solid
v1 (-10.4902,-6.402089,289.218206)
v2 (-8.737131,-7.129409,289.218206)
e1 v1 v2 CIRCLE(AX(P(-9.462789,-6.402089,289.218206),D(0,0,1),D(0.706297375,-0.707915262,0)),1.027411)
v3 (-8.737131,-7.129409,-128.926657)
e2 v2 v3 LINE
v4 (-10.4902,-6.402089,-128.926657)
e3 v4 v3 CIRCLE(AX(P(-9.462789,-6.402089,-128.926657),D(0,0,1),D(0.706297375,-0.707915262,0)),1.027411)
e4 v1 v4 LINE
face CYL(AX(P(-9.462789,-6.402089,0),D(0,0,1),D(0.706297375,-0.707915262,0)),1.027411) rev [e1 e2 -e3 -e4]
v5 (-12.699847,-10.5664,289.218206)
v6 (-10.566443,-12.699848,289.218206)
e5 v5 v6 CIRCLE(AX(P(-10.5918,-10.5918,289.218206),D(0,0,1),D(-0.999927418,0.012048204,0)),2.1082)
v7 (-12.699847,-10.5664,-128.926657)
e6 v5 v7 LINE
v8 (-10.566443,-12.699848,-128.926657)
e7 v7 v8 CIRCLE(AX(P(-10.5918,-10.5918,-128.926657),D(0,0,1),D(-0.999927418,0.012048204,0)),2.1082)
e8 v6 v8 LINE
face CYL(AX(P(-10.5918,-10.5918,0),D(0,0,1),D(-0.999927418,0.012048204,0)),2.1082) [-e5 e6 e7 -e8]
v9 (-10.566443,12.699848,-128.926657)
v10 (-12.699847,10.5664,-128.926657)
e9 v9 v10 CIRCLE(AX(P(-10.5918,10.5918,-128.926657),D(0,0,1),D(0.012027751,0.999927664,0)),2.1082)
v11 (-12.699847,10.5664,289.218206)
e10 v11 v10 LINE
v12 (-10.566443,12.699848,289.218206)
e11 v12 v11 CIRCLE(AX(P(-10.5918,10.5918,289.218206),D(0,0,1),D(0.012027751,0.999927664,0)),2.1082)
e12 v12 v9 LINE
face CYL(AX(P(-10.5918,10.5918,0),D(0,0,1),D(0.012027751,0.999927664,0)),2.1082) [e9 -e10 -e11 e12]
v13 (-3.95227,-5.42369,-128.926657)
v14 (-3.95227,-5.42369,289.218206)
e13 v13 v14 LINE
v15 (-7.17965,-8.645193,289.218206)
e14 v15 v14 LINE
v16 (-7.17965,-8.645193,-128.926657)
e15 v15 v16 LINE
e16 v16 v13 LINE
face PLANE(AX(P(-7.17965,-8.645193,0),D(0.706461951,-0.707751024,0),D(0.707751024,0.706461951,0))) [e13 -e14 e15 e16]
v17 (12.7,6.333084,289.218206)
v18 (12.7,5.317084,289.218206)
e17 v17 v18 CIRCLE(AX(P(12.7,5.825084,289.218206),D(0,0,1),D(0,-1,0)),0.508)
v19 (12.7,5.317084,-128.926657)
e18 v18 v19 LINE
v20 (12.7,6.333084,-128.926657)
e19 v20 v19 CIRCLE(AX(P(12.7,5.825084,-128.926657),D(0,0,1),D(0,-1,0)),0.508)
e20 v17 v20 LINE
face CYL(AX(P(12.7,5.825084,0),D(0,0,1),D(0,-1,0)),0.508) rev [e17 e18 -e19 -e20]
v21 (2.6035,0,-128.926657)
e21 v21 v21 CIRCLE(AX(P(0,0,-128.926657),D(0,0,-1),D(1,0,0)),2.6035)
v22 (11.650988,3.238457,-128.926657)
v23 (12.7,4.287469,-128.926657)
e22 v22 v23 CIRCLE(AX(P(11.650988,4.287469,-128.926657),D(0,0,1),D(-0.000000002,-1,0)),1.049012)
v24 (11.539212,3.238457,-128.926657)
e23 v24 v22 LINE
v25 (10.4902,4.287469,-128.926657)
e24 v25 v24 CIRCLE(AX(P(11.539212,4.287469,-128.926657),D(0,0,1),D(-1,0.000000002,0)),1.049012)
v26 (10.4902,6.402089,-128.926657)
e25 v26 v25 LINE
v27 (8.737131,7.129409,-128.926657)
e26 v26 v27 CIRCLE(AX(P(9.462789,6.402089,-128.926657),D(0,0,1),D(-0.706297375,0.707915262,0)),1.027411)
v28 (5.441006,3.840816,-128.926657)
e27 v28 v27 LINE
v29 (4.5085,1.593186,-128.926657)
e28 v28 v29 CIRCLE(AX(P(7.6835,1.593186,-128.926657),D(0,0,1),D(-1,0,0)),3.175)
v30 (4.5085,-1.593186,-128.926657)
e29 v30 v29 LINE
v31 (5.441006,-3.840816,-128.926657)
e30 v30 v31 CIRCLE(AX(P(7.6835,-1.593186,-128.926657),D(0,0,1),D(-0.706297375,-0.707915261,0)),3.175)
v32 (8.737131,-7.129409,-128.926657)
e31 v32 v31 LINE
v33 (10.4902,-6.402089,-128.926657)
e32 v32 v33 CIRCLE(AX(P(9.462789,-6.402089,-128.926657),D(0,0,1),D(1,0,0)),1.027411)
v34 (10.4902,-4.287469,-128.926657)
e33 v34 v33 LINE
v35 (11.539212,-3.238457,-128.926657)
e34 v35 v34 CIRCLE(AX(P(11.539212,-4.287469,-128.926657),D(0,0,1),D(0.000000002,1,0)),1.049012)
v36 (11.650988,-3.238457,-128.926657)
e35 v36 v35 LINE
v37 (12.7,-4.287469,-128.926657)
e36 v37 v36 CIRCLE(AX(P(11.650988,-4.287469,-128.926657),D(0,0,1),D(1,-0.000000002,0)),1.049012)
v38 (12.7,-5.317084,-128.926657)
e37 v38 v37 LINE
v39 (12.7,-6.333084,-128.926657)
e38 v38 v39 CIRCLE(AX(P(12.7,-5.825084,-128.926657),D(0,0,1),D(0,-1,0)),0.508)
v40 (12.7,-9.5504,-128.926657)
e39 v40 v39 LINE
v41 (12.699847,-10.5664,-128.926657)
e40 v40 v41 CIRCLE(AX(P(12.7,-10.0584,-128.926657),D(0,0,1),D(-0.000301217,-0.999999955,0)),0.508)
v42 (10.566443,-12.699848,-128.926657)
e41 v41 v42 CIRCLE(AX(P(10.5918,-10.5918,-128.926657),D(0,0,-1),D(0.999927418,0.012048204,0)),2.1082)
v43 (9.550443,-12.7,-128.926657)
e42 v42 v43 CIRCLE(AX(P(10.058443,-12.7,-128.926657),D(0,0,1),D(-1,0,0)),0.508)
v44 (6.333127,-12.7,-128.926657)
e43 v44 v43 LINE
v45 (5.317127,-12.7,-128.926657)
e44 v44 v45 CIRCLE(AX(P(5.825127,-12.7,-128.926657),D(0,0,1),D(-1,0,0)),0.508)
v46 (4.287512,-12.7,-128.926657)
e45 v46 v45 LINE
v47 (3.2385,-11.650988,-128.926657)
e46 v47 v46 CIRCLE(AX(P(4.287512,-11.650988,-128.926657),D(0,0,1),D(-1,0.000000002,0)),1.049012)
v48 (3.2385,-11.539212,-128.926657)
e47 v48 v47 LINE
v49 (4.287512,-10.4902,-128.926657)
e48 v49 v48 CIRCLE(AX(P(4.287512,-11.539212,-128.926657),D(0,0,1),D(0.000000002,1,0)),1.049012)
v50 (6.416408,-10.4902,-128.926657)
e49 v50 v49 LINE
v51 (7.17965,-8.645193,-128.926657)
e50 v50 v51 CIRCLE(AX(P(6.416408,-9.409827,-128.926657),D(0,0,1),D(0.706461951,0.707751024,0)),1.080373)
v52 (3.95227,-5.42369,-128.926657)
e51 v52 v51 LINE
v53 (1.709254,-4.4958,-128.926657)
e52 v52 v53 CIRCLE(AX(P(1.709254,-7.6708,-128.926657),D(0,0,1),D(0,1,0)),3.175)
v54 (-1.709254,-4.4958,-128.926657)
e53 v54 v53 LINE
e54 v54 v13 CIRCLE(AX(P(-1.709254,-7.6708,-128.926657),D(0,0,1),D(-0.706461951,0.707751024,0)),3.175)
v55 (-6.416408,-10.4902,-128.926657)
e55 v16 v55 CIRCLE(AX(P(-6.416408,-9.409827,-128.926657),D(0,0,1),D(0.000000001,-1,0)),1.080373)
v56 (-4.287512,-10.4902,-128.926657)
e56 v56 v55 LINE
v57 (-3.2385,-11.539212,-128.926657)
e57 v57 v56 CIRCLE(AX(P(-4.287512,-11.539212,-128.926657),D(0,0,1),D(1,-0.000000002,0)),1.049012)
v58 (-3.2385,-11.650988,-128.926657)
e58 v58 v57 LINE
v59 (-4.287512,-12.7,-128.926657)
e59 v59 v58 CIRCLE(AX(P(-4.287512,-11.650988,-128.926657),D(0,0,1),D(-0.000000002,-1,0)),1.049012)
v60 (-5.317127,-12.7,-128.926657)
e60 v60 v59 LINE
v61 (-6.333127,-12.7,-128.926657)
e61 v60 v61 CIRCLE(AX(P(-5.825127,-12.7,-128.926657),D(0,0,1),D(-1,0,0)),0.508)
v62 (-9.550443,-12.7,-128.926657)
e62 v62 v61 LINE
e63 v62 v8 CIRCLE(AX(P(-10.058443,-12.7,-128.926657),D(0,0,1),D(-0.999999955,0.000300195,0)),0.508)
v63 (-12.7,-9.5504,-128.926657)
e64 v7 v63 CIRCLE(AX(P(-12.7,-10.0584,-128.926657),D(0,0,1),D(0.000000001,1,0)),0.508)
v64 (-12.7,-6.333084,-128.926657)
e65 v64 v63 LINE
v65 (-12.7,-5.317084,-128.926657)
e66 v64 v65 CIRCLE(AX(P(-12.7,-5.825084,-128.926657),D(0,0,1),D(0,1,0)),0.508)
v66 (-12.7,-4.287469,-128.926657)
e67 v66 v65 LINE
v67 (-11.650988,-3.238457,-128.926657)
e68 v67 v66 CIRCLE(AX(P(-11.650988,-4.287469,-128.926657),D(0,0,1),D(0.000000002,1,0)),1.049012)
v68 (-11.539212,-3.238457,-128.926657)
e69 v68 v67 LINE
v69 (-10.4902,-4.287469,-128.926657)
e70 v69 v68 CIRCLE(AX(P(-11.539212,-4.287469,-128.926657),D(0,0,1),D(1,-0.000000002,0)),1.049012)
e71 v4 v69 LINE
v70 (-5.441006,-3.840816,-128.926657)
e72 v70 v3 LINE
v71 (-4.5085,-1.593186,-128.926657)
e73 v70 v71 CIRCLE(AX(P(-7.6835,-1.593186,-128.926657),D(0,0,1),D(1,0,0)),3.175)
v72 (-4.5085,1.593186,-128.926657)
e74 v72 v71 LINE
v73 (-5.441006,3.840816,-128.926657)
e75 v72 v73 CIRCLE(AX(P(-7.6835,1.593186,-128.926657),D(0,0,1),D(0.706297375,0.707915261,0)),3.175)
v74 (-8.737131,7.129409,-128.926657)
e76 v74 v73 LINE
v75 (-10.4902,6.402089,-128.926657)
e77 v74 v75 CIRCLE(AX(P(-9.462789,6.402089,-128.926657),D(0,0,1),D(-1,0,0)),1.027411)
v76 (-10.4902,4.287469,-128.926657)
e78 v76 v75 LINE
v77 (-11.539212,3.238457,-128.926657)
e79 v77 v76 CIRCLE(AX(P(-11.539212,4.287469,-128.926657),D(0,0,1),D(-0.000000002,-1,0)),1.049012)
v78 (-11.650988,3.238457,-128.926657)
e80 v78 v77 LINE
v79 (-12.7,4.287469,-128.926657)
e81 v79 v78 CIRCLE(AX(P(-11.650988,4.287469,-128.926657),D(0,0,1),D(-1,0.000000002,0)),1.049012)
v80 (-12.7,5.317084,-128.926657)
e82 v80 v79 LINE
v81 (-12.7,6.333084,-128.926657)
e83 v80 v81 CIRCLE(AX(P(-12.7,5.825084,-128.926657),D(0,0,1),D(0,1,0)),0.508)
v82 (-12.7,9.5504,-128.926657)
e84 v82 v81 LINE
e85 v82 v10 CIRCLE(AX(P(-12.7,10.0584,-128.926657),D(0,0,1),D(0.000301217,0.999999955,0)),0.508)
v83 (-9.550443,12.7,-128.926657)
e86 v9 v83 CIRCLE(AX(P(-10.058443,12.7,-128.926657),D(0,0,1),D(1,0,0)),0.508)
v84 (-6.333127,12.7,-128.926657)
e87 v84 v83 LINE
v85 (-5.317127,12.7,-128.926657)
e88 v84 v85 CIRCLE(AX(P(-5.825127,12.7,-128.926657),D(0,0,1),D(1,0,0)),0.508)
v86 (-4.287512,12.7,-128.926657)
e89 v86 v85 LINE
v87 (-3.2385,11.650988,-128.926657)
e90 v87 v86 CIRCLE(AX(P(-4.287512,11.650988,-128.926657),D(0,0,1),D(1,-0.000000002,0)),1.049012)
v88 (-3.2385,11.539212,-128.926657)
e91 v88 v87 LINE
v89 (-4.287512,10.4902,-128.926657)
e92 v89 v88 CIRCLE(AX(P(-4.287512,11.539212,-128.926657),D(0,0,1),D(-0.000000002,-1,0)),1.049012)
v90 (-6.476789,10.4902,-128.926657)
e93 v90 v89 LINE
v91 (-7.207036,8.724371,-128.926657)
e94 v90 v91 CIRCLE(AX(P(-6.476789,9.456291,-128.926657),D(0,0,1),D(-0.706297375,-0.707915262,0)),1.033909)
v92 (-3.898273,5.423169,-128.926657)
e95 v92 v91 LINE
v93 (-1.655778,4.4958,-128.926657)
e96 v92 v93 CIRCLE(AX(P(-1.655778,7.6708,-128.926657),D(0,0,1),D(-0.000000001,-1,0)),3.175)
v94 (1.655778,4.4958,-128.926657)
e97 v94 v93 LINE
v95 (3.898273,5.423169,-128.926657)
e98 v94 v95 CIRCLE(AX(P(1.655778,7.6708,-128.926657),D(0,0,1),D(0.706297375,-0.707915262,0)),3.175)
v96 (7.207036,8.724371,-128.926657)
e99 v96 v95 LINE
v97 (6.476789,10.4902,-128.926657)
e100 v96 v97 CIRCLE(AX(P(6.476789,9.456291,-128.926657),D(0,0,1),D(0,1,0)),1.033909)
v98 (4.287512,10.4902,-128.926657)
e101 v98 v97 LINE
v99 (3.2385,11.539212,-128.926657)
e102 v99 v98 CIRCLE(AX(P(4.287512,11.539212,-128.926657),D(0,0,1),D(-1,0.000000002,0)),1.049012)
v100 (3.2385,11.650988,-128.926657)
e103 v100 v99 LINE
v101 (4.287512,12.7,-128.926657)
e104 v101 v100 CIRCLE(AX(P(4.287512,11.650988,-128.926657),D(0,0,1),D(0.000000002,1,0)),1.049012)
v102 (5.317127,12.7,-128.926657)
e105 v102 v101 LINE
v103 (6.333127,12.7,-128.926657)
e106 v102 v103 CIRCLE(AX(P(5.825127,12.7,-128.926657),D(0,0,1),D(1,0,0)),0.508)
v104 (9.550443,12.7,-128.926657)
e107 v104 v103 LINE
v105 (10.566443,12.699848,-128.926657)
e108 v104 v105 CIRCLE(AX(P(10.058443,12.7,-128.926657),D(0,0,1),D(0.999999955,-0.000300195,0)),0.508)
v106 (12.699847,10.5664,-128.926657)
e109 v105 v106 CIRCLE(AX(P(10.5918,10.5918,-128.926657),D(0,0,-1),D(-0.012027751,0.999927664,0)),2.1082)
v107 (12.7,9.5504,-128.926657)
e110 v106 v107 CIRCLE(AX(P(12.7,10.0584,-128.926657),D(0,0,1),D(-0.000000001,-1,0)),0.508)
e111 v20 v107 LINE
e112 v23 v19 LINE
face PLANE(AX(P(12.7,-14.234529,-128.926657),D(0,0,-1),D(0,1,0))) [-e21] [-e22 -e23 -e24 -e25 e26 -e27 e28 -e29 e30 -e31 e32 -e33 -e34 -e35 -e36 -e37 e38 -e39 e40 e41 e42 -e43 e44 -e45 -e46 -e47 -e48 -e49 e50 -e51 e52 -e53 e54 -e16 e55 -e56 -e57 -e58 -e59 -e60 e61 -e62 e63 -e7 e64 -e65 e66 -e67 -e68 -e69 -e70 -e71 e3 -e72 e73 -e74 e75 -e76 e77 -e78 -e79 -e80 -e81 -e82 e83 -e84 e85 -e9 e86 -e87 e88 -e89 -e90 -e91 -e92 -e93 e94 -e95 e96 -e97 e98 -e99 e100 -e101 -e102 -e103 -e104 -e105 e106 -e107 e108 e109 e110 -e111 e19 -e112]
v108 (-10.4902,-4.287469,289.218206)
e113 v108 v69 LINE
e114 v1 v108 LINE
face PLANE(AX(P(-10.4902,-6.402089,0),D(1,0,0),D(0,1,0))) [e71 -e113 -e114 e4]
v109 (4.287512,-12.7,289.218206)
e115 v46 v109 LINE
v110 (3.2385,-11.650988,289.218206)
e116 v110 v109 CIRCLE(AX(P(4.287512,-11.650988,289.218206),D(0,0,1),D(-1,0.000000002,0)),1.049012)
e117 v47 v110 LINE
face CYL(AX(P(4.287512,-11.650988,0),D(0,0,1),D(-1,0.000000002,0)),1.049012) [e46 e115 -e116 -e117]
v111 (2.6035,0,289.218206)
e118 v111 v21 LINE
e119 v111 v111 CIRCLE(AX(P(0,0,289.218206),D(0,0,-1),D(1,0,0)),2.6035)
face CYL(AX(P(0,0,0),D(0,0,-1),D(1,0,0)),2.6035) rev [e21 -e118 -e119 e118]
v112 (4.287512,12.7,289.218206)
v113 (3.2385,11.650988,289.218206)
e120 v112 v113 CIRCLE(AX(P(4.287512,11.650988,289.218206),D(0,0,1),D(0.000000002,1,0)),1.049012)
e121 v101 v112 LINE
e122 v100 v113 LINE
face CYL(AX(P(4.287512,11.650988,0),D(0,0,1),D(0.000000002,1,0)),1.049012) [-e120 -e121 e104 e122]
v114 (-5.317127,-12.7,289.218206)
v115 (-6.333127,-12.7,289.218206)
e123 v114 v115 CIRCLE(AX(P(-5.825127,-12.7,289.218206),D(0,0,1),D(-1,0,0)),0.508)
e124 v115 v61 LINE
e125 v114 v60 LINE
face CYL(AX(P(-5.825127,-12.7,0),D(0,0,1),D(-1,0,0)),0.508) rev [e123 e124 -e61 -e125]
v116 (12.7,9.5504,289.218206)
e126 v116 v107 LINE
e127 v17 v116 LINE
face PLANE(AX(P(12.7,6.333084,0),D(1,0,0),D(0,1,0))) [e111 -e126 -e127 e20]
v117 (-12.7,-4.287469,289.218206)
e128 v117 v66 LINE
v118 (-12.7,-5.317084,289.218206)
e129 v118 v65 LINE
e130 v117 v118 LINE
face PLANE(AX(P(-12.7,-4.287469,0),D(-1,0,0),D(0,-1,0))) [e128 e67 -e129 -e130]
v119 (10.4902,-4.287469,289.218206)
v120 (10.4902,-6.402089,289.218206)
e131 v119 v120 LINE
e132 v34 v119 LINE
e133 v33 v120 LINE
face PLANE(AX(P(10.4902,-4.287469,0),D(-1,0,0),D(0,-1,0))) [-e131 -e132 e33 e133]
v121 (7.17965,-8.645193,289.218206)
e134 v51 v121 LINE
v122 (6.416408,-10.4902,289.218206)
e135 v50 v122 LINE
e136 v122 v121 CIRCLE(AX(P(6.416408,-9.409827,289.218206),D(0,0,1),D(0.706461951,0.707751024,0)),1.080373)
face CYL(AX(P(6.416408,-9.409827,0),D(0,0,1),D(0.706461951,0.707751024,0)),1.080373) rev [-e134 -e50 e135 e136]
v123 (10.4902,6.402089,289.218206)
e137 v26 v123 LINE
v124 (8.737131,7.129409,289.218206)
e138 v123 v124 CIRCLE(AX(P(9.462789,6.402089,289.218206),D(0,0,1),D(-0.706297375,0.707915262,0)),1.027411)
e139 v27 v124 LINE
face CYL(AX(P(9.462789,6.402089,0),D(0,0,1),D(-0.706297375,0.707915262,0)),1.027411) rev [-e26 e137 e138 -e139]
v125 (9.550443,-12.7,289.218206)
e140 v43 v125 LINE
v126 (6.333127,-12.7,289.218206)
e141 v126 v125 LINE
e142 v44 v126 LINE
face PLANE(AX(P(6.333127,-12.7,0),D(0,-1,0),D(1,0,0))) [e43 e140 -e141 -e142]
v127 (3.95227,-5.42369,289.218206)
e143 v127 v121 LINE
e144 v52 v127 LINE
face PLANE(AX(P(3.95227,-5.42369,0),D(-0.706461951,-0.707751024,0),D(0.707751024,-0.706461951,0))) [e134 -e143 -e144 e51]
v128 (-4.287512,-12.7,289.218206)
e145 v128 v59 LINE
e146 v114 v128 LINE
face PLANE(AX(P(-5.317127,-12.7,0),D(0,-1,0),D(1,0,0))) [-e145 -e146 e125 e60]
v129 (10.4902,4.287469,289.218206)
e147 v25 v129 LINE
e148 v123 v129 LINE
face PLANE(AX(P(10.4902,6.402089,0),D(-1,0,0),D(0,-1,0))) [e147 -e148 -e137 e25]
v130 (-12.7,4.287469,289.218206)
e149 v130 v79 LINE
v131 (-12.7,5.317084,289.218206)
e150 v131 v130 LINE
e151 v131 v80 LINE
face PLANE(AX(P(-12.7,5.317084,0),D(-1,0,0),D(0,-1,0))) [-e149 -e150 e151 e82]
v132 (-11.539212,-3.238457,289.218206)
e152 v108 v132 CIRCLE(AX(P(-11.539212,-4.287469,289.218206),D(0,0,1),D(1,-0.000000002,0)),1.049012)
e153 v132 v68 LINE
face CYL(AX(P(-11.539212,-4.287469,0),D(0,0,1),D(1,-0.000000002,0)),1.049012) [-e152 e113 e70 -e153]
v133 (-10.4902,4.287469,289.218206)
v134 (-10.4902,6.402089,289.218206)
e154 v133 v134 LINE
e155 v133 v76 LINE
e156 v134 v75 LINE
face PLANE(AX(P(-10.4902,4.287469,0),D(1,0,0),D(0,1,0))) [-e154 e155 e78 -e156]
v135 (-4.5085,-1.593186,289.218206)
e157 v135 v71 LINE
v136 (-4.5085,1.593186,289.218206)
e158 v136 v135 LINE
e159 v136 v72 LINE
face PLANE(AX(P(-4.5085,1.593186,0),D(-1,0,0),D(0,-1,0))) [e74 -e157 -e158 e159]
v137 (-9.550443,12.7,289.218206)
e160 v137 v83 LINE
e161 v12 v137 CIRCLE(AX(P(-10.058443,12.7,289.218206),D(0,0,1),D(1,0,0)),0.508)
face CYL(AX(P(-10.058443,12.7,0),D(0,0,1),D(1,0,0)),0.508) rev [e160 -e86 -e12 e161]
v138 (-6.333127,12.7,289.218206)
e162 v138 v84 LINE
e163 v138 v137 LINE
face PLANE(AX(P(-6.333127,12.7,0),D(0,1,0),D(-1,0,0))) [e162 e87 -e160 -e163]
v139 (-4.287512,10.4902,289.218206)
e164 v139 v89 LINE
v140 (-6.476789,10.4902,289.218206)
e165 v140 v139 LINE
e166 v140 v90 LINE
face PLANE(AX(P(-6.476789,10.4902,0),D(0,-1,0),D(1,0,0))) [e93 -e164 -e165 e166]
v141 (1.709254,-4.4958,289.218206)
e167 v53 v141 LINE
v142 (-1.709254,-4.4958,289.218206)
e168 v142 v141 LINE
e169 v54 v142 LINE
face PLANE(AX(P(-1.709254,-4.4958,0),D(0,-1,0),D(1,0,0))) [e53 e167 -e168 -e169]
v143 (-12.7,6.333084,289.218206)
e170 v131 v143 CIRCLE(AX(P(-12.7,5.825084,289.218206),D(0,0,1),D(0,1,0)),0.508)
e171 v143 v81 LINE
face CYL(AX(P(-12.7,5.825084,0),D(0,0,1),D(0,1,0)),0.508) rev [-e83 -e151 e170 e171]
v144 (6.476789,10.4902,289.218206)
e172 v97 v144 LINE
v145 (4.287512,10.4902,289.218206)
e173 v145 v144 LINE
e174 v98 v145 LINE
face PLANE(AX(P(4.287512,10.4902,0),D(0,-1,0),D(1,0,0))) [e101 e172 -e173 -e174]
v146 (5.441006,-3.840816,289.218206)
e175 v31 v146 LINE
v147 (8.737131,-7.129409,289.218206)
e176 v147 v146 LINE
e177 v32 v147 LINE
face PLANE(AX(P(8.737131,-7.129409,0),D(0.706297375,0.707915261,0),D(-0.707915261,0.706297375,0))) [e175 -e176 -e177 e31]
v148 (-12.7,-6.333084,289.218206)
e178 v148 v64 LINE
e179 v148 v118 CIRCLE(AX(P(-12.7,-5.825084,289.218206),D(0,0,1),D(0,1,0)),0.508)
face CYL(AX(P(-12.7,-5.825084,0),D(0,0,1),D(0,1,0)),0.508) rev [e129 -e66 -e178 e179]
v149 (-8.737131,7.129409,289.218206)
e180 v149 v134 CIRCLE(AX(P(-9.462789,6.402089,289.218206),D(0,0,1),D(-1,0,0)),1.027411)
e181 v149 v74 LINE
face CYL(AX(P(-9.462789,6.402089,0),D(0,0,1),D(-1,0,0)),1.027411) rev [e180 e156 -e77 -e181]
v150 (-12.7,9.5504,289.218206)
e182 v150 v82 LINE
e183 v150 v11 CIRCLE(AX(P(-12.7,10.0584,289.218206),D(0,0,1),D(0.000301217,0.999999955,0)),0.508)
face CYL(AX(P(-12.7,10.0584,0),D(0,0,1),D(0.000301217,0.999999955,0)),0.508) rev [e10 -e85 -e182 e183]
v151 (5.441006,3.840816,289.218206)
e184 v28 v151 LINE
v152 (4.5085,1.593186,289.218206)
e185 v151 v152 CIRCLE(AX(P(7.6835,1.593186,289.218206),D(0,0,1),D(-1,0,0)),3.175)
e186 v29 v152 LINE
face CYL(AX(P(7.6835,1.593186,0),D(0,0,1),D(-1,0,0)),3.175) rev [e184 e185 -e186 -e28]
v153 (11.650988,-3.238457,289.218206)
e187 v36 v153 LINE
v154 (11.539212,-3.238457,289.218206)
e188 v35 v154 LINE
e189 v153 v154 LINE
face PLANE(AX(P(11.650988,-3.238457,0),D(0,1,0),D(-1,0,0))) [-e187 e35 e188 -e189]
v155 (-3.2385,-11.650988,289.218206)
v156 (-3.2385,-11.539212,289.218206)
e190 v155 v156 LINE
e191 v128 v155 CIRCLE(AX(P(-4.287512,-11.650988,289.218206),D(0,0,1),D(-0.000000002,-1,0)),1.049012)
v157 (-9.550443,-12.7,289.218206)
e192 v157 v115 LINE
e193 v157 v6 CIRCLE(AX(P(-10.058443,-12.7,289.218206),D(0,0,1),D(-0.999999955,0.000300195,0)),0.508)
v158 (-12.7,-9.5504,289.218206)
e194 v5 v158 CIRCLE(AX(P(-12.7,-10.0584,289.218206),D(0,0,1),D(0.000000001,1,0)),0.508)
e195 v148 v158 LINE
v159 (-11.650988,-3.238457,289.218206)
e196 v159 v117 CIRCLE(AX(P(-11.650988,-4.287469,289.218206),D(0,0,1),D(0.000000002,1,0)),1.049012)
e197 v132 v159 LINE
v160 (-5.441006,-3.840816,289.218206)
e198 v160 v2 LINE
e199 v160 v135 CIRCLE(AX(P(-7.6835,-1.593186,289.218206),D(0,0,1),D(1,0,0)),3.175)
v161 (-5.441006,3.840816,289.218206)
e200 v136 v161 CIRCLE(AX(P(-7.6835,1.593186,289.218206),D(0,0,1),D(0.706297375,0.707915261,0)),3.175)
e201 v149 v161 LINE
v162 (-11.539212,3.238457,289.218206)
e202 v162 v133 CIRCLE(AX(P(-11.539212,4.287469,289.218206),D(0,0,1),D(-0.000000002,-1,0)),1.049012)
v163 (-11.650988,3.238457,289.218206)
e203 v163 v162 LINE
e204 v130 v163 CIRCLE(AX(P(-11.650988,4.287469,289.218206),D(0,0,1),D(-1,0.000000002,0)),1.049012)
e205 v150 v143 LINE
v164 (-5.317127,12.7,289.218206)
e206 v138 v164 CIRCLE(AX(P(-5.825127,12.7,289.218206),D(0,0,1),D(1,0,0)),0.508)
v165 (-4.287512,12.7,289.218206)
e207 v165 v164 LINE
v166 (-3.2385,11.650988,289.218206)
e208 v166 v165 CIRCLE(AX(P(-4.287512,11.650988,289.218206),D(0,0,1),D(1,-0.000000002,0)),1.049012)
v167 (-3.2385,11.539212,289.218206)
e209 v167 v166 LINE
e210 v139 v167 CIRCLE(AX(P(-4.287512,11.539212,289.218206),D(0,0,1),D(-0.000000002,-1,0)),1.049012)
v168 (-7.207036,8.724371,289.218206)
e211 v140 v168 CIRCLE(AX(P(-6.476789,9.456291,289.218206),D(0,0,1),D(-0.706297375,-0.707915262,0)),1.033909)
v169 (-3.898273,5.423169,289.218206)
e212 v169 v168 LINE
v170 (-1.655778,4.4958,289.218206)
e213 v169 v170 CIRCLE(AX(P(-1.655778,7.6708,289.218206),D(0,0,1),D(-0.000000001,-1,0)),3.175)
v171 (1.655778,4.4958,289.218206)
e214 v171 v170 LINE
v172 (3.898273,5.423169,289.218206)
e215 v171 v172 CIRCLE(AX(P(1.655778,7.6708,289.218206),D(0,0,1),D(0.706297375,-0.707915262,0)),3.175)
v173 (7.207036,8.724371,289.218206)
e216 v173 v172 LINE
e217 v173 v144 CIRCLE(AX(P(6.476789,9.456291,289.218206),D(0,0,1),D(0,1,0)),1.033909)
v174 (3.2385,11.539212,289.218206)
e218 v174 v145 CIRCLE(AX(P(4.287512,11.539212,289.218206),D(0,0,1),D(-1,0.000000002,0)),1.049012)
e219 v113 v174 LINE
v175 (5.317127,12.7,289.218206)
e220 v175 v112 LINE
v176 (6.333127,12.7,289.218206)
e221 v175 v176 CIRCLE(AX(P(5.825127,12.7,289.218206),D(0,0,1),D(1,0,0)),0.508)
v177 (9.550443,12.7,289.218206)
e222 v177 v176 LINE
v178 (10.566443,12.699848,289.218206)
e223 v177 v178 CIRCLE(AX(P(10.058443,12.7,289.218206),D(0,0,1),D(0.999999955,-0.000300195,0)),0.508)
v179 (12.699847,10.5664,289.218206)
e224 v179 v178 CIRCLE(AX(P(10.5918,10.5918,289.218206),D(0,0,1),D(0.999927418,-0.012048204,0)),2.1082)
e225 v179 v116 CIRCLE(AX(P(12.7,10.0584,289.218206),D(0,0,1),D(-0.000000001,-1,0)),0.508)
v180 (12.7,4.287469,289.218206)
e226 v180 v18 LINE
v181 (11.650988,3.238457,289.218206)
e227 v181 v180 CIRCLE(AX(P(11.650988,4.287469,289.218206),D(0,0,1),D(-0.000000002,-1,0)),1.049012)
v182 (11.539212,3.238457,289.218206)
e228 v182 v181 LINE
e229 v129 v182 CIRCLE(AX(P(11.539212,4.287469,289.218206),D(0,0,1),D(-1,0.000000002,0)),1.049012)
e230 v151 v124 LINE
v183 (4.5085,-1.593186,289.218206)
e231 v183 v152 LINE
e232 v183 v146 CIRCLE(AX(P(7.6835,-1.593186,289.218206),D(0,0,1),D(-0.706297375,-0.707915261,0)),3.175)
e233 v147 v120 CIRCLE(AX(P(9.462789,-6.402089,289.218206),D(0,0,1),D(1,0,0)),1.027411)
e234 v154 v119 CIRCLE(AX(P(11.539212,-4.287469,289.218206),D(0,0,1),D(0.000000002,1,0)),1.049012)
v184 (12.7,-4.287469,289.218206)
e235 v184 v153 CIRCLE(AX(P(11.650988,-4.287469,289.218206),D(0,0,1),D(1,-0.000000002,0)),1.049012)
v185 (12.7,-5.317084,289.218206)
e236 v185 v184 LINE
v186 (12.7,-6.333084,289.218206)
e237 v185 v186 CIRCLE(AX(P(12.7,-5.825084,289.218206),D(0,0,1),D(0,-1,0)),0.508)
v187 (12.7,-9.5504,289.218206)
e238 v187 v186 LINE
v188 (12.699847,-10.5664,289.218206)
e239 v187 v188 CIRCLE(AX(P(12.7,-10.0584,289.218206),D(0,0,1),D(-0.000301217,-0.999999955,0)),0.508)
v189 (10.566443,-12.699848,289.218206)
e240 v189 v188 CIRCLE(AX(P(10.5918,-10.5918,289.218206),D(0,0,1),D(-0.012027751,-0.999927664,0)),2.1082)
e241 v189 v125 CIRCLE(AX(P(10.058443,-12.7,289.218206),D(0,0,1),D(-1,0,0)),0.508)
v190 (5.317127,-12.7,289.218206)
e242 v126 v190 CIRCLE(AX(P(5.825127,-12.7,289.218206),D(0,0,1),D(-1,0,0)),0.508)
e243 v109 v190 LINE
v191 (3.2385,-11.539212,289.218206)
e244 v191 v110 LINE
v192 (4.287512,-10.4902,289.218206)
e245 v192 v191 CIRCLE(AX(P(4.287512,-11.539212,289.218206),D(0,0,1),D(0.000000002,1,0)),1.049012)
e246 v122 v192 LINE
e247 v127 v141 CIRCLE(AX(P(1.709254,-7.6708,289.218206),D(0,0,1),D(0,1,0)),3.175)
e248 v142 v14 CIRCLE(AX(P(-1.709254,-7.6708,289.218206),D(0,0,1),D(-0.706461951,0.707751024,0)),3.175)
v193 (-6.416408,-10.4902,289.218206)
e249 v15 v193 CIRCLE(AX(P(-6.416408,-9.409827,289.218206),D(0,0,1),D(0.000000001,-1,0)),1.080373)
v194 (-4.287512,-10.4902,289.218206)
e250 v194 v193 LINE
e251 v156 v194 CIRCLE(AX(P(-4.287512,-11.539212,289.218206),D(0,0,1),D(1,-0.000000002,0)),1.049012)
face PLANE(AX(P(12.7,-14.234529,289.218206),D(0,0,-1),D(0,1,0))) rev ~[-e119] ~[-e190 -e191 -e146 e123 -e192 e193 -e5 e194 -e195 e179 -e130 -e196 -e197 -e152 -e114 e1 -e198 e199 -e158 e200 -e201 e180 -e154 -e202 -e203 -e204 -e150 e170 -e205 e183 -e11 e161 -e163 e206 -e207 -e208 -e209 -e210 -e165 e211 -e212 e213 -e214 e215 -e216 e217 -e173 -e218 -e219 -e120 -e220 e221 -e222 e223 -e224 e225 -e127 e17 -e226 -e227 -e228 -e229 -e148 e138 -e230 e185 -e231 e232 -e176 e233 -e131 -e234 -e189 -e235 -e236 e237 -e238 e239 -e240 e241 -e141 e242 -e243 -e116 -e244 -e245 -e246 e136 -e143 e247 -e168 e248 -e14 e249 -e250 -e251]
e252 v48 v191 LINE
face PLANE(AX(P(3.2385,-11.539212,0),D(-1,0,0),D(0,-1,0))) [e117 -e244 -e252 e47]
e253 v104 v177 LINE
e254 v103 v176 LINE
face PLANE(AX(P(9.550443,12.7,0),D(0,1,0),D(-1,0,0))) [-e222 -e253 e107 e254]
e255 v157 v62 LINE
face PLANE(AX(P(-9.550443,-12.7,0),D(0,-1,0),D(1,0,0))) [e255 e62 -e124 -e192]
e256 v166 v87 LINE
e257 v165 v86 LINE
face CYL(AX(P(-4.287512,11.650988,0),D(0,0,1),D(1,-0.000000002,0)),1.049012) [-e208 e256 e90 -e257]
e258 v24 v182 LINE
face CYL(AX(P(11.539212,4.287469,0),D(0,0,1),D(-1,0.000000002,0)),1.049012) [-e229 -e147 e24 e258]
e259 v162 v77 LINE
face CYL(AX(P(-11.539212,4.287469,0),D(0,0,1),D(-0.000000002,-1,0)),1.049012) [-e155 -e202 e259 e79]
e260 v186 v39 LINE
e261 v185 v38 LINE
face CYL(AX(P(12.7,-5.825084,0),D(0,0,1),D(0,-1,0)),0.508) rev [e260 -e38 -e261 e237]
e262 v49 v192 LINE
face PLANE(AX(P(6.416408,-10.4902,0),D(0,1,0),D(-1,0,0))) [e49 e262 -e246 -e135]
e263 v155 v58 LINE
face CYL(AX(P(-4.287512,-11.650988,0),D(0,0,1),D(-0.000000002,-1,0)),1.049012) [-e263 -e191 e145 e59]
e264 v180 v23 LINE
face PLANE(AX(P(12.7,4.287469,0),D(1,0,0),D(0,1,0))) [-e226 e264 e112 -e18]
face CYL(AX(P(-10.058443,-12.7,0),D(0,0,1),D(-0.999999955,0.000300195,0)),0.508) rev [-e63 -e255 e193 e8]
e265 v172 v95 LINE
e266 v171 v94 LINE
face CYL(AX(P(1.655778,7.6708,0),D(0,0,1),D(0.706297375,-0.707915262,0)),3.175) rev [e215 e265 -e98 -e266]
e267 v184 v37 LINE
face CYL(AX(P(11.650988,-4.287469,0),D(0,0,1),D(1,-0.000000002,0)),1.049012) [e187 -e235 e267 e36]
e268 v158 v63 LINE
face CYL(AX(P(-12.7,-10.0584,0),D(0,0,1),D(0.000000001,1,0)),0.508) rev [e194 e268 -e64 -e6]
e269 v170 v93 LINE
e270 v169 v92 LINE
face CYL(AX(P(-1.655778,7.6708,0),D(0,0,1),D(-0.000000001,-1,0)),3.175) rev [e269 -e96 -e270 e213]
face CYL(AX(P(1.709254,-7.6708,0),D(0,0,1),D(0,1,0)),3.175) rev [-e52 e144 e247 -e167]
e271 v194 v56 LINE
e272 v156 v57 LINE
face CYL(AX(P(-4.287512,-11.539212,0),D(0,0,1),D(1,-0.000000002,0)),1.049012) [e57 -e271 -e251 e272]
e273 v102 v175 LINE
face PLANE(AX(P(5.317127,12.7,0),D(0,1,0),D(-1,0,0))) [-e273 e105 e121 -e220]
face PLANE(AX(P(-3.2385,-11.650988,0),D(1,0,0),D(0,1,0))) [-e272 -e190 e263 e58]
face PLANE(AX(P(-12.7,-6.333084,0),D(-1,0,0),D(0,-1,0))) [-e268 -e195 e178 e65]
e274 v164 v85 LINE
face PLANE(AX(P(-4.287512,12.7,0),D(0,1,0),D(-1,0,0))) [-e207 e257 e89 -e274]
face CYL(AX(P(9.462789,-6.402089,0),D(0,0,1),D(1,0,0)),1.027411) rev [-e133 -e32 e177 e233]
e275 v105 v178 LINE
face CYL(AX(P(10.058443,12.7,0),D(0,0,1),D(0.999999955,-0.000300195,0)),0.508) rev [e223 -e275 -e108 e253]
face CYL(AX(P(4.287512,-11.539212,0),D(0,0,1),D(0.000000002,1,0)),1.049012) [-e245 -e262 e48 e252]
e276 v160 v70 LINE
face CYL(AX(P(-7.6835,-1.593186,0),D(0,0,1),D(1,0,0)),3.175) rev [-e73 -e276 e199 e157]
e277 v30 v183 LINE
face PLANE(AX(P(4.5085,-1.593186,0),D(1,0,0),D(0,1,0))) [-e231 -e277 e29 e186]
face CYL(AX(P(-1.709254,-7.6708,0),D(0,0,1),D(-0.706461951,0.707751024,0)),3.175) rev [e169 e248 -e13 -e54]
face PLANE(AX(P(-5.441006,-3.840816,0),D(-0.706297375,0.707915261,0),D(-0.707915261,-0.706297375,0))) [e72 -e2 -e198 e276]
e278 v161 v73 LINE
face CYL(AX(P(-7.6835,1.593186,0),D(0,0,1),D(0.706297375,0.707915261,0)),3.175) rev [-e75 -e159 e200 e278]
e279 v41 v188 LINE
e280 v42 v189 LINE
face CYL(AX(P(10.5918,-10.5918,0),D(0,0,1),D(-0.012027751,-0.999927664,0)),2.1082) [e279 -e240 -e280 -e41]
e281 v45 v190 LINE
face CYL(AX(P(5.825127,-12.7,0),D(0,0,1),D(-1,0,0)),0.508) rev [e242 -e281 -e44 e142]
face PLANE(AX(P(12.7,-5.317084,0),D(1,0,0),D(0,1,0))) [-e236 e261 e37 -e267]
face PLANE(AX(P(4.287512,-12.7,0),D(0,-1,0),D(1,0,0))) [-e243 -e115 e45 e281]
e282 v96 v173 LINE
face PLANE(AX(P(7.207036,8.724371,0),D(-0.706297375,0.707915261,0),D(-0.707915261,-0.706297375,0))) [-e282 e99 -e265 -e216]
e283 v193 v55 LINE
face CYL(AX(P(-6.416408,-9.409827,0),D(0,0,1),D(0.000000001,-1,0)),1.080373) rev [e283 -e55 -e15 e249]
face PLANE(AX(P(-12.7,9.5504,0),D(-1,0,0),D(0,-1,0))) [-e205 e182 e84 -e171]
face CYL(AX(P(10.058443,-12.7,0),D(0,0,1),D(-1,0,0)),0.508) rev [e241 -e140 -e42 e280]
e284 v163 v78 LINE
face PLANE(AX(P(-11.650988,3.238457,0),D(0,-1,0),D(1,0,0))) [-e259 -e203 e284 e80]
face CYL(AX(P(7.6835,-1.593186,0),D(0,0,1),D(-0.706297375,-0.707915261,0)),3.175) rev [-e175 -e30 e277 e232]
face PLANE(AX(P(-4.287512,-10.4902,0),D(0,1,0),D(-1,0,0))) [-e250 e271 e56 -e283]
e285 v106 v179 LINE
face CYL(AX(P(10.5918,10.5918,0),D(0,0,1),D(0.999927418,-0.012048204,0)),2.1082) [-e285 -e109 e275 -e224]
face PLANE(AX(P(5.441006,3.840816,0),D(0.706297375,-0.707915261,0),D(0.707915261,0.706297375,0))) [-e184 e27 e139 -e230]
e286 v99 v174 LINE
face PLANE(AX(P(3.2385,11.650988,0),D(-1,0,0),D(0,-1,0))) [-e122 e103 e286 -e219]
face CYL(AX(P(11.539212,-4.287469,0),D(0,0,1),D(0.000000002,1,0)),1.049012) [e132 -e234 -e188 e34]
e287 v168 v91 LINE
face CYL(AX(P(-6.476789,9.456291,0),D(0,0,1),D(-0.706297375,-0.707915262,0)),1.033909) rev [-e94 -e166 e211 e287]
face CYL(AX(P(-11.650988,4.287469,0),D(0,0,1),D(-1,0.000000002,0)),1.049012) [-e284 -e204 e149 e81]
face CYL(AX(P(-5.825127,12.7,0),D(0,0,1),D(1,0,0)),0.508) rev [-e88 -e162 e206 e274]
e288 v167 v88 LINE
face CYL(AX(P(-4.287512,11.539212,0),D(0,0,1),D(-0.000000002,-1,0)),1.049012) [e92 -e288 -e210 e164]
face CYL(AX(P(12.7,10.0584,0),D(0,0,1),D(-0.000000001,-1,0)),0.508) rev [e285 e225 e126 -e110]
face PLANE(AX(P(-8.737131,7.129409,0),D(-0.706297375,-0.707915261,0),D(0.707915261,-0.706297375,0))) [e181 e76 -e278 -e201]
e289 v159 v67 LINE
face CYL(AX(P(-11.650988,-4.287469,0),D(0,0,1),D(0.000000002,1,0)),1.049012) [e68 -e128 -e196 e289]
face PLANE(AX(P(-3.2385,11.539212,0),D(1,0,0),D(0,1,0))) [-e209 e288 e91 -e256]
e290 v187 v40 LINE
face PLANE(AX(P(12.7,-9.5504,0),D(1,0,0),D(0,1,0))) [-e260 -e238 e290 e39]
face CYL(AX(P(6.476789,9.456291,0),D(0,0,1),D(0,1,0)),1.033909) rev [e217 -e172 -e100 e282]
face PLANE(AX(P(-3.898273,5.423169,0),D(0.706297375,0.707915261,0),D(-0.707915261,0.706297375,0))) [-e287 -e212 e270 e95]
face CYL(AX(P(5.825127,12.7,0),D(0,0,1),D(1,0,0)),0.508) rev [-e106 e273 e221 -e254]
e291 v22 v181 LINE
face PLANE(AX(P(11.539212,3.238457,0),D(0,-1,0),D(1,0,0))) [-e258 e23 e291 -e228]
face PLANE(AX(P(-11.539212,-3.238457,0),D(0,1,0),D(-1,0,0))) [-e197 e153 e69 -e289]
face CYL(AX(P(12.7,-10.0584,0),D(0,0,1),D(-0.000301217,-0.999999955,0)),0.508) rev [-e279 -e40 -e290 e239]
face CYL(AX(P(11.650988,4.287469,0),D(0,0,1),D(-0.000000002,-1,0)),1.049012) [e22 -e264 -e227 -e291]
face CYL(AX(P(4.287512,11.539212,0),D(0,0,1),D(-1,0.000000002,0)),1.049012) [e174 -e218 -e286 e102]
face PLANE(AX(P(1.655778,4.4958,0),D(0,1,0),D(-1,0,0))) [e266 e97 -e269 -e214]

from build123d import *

# Parameters (mm, degrees)
SKETCH1_R               = 2.6035
BOSS_EXTRUDE1_DEPTH     = 304.8
SKETCH2_W               = 181.816409497
SKETCH2_H               = 28.139832977
SKETCH2_W_2             = 16.257599062
SKETCH2_H_2             = 27.586789262
CUT_EXTRUDE1_DEPTH      = 1.778
CUT_EXTRUDE1_DEPTH_BACK = 26.162


with BuildPart() as part:
    # Sketch1 → Boss-Extrude1 (new body, symmetric)
    with BuildSketch(Plane.XY):
        with BuildLine():
            Line((-7.179650497, -8.645192506), (-3.952270251, -5.423690499))
            ThreePointArc((-3.952270251, -5.423690499), (-2.922936451, -4.736929036), (-1.709253557, -4.4958))
            Line((-1.709253557, -4.4958), (1.709253557, -4.4958))
            ThreePointArc((1.709253557, -4.4958), (2.922936451, -4.736929036), (3.952270251, -5.423690499))
            Line((3.952270251, -5.423690499), (7.179650497, -8.645192506))
            ThreePointArc((7.179650497, -8.645192506), (7.41473083, -9.822813117), (6.416408329, -10.4902))
            Line((6.416408329, -10.4902), (4.287512407, -10.4902))
            ThreePointArc((4.287512407, -10.4902), (3.54574862, -10.79744862), (3.2385, -11.539212407))
            Line((3.2385, -11.539212407), (3.2385, -11.650987593))
            ThreePointArc((3.2385, -11.650987593), (3.54574862, -12.39275138), (4.287512407, -12.7))
            Line((4.287512407, -12.7), (5.317126718, -12.7))
            ThreePointArc((5.317126718, -12.7), (5.825126718, -12.192), (6.333126718, -12.7))
            Line((6.333126718, -12.7), (9.550443118, -12.7))
            ThreePointArc((9.550443118, -12.7), (10.058366869, -12.192000006), (10.566443095, -12.699847501))
            ThreePointArc((10.566443095, -12.699847501), (12.082537762, -12.08250727), (12.699846982, -10.566399977))
            ThreePointArc((12.699846982, -10.566399977), (12.192000006, -10.058323491), (12.7, -9.5504))
            Line((12.7, -9.5504), (12.7, -6.3330836))
            ThreePointArc((12.7, -6.3330836), (12.192, -5.8250836), (12.7, -5.3170836))
            Line((12.7, -5.3170836), (12.7, -4.287469289))
            ThreePointArc((12.7, -4.287469289), (12.39275138, -3.545705502), (11.650987593, -3.238456882))
            Line((11.650987593, -3.238456882), (11.539212407, -3.238456882))
            ThreePointArc((11.539212407, -3.238456882), (10.79744862, -3.545705502), (10.4902, -4.287469289))
            Line((10.4902, -4.287469289), (10.4902, -6.402089023))
            ThreePointArc((10.4902, -6.402089023), (9.856505071, -7.351067942), (8.737131347, -7.129408934))
            Line((8.737131347, -7.129408934), (5.441005833, -3.840816462))
            ThreePointArc((5.441005833, -3.840816462), (4.750877967, -2.809883091), (4.5085, -1.593185507))
            Line((4.5085, -1.593185507), (4.5085, 1.593185507))
            ThreePointArc((4.5085, 1.593185507), (4.750877967, 2.809883091), (5.441005833, 3.840816462))
            Line((5.441005833, 3.840816462), (8.737131347, 7.129408934))
            ThreePointArc((8.737131347, 7.129408934), (9.856505071, 7.351067942), (10.4902, 6.402089023))
            Line((10.4902, 6.402089023), (10.4902, 4.287469289))
            ThreePointArc((10.4902, 4.287469289), (10.79744862, 3.545705502), (11.539212407, 3.238456882))
            Line((11.539212407, 3.238456882), (11.650987593, 3.238456882))
            ThreePointArc((11.650987593, 3.238456882), (12.39275138, 3.545705502), (12.7, 4.287469289))
            Line((12.7, 4.287469289), (12.7, 5.3170836))
            ThreePointArc((12.7, 5.3170836), (12.192, 5.8250836), (12.7, 6.3330836))
            Line((12.7, 6.3330836), (12.7, 9.5504))
            ThreePointArc((12.7, 9.5504), (12.192000006, 10.058323491), (12.699846982, 10.566399977))
            ThreePointArc((12.699846982, 10.566399977), (12.082537762, 12.08250727), (10.566443095, 12.699847501))
            ThreePointArc((10.566443095, 12.699847501), (10.058366869, 12.192000006), (9.550443118, 12.7))
            Line((9.550443118, 12.7), (6.333126718, 12.7))
            ThreePointArc((6.333126718, 12.7), (5.825126718, 12.192), (5.317126718, 12.7))
            Line((5.317126718, 12.7), (4.287512407, 12.7))
            ThreePointArc((4.287512407, 12.7), (3.54574862, 12.39275138), (3.2385, 11.650987593))
            Line((3.2385, 11.650987593), (3.2385, 11.539212407))
            ThreePointArc((3.2385, 11.539212407), (3.54574862, 10.79744862), (4.287512407, 10.4902))
            Line((4.287512407, 10.4902), (6.476788598, 10.4902))
            ThreePointArc((6.476788598, 10.4902), (7.432222385, 9.85140422), (7.207036008, 8.724370562))
            Line((7.207036008, 8.724370562), (3.898272566, 5.423169045))
            ThreePointArc((3.898272566, 5.423169045), (2.869120213, 4.736787962), (1.655778399, 4.4958))
            Line((1.655778399, 4.4958), (-1.655778399, 4.4958))
            ThreePointArc((-1.655778399, 4.4958), (-2.869120213, 4.736787962), (-3.898272566, 5.423169045))
            Line((-3.898272566, 5.423169045), (-7.207036008, 8.724370562))
            ThreePointArc((-7.207036008, 8.724370562), (-7.432222385, 9.85140422), (-6.476788598, 10.4902))
            Line((-6.476788598, 10.4902), (-4.287512407, 10.4902))
            ThreePointArc((-4.287512407, 10.4902), (-3.54574862, 10.79744862), (-3.2385, 11.539212407))
            Line((-3.2385, 11.539212407), (-3.2385, 11.650987593))
            ThreePointArc((-3.2385, 11.650987593), (-3.54574862, 12.39275138), (-4.287512407, 12.7))
            Line((-4.287512407, 12.7), (-5.317126718, 12.7))
            ThreePointArc((-5.317126718, 12.7), (-5.825126718, 12.192), (-6.333126718, 12.7))
            Line((-6.333126718, 12.7), (-9.550443118, 12.7))
            ThreePointArc((-9.550443118, 12.7), (-10.058366869, 12.192000006), (-10.566443095, 12.699847501))
            ThreePointArc((-10.566443095, 12.699847501), (-12.082537762, 12.08250727), (-12.699846982, 10.566399977))
            ThreePointArc((-12.699846982, 10.566399977), (-12.192000006, 10.058323491), (-12.7, 9.5504))
            Line((-12.7, 9.5504), (-12.7, 6.3330836))
            ThreePointArc((-12.7, 6.3330836), (-12.192, 5.8250836), (-12.7, 5.3170836))
            Line((-12.7, 5.3170836), (-12.7, 4.287469289))
            ThreePointArc((-12.7, 4.287469289), (-12.39275138, 3.545705502), (-11.650987593, 3.238456882))
            Line((-11.650987593, 3.238456882), (-11.539212407, 3.238456882))
            ThreePointArc((-11.539212407, 3.238456882), (-10.79744862, 3.545705502), (-10.4902, 4.287469289))
            Line((-10.4902, 4.287469289), (-10.4902, 6.402089023))
            ThreePointArc((-10.4902, 6.402089023), (-9.856505071, 7.351067942), (-8.737131347, 7.129408934))
            Line((-8.737131347, 7.129408934), (-5.441005833, 3.840816462))
            ThreePointArc((-5.441005833, 3.840816462), (-4.750877967, 2.809883091), (-4.5085, 1.593185507))
            Line((-4.5085, 1.593185507), (-4.5085, -1.593185507))
            ThreePointArc((-4.5085, -1.593185507), (-4.750877967, -2.809883091), (-5.441005833, -3.840816462))
            Line((-5.441005833, -3.840816462), (-8.737131347, -7.129408934))
            ThreePointArc((-8.737131347, -7.129408934), (-9.856505071, -7.351067942), (-10.4902, -6.402089023))
            Line((-10.4902, -6.402089023), (-10.4902, -4.287469289))
            ThreePointArc((-10.4902, -4.287469289), (-10.79744862, -3.545705502), (-11.539212407, -3.238456882))
            Line((-11.539212407, -3.238456882), (-11.650987593, -3.238456882))
            ThreePointArc((-11.650987593, -3.238456882), (-12.39275138, -3.545705502), (-12.7, -4.287469289))
            Line((-12.7, -4.287469289), (-12.7, -5.3170836))
            ThreePointArc((-12.7, -5.3170836), (-12.192, -5.8250836), (-12.7, -6.3330836))
            Line((-12.7, -6.3330836), (-12.7, -9.5504))
            ThreePointArc((-12.7, -9.5504), (-12.192000006, -10.058323491), (-12.699846982, -10.566399977))
            ThreePointArc((-12.699846982, -10.566399977), (-12.082537762, -12.08250727), (-10.566443095, -12.699847501))
            ThreePointArc((-10.566443095, -12.699847501), (-10.058366869, -12.192000006), (-9.550443118, -12.7))
            Line((-9.550443118, -12.7), (-6.333126718, -12.7))
            ThreePointArc((-6.333126718, -12.7), (-5.825126718, -12.192), (-5.317126718, -12.7))
            Line((-5.317126718, -12.7), (-4.287512407, -12.7))
            ThreePointArc((-4.287512407, -12.7), (-3.54574862, -12.39275138), (-3.2385, -11.650987593))
            Line((-3.2385, -11.650987593), (-3.2385, -11.539212407))
            ThreePointArc((-3.2385, -11.539212407), (-3.54574862, -10.79744862), (-4.287512407, -10.4902))
            Line((-4.287512407, -10.4902), (-6.416408329, -10.4902))
            ThreePointArc((-6.416408329, -10.4902), (-7.41473083, -9.822813117), (-7.179650497, -8.645192506))
        make_face()
        Circle(SKETCH1_R, mode=Mode.SUBTRACT)
    extrude(amount=BOSS_EXTRUDE1_DEPTH, both=True)

    # Sketch2 → Cut-Extrude1 (cut, two sides)
    with BuildSketch(Plane(origin=(12.7, 0, 0), x_dir=(0, 0, -1), z_dir=(1, 0, 0))) as cut_extrude1_sk:
        with Locations((219.834861418, -0.164612138)):
            Rectangle(SKETCH2_W, SKETCH2_H)
        with Locations((-297.347005301, -0.441133996)):
            Rectangle(SKETCH2_W_2, SKETCH2_H_2)
    extrude(amount=CUT_EXTRUDE1_DEPTH, mode=Mode.SUBTRACT)
    extrude(cut_extrude1_sk.sketch, amount=-CUT_EXTRUDE1_DEPTH_BACK, mode=Mode.SUBTRACT)


solid = part.part
